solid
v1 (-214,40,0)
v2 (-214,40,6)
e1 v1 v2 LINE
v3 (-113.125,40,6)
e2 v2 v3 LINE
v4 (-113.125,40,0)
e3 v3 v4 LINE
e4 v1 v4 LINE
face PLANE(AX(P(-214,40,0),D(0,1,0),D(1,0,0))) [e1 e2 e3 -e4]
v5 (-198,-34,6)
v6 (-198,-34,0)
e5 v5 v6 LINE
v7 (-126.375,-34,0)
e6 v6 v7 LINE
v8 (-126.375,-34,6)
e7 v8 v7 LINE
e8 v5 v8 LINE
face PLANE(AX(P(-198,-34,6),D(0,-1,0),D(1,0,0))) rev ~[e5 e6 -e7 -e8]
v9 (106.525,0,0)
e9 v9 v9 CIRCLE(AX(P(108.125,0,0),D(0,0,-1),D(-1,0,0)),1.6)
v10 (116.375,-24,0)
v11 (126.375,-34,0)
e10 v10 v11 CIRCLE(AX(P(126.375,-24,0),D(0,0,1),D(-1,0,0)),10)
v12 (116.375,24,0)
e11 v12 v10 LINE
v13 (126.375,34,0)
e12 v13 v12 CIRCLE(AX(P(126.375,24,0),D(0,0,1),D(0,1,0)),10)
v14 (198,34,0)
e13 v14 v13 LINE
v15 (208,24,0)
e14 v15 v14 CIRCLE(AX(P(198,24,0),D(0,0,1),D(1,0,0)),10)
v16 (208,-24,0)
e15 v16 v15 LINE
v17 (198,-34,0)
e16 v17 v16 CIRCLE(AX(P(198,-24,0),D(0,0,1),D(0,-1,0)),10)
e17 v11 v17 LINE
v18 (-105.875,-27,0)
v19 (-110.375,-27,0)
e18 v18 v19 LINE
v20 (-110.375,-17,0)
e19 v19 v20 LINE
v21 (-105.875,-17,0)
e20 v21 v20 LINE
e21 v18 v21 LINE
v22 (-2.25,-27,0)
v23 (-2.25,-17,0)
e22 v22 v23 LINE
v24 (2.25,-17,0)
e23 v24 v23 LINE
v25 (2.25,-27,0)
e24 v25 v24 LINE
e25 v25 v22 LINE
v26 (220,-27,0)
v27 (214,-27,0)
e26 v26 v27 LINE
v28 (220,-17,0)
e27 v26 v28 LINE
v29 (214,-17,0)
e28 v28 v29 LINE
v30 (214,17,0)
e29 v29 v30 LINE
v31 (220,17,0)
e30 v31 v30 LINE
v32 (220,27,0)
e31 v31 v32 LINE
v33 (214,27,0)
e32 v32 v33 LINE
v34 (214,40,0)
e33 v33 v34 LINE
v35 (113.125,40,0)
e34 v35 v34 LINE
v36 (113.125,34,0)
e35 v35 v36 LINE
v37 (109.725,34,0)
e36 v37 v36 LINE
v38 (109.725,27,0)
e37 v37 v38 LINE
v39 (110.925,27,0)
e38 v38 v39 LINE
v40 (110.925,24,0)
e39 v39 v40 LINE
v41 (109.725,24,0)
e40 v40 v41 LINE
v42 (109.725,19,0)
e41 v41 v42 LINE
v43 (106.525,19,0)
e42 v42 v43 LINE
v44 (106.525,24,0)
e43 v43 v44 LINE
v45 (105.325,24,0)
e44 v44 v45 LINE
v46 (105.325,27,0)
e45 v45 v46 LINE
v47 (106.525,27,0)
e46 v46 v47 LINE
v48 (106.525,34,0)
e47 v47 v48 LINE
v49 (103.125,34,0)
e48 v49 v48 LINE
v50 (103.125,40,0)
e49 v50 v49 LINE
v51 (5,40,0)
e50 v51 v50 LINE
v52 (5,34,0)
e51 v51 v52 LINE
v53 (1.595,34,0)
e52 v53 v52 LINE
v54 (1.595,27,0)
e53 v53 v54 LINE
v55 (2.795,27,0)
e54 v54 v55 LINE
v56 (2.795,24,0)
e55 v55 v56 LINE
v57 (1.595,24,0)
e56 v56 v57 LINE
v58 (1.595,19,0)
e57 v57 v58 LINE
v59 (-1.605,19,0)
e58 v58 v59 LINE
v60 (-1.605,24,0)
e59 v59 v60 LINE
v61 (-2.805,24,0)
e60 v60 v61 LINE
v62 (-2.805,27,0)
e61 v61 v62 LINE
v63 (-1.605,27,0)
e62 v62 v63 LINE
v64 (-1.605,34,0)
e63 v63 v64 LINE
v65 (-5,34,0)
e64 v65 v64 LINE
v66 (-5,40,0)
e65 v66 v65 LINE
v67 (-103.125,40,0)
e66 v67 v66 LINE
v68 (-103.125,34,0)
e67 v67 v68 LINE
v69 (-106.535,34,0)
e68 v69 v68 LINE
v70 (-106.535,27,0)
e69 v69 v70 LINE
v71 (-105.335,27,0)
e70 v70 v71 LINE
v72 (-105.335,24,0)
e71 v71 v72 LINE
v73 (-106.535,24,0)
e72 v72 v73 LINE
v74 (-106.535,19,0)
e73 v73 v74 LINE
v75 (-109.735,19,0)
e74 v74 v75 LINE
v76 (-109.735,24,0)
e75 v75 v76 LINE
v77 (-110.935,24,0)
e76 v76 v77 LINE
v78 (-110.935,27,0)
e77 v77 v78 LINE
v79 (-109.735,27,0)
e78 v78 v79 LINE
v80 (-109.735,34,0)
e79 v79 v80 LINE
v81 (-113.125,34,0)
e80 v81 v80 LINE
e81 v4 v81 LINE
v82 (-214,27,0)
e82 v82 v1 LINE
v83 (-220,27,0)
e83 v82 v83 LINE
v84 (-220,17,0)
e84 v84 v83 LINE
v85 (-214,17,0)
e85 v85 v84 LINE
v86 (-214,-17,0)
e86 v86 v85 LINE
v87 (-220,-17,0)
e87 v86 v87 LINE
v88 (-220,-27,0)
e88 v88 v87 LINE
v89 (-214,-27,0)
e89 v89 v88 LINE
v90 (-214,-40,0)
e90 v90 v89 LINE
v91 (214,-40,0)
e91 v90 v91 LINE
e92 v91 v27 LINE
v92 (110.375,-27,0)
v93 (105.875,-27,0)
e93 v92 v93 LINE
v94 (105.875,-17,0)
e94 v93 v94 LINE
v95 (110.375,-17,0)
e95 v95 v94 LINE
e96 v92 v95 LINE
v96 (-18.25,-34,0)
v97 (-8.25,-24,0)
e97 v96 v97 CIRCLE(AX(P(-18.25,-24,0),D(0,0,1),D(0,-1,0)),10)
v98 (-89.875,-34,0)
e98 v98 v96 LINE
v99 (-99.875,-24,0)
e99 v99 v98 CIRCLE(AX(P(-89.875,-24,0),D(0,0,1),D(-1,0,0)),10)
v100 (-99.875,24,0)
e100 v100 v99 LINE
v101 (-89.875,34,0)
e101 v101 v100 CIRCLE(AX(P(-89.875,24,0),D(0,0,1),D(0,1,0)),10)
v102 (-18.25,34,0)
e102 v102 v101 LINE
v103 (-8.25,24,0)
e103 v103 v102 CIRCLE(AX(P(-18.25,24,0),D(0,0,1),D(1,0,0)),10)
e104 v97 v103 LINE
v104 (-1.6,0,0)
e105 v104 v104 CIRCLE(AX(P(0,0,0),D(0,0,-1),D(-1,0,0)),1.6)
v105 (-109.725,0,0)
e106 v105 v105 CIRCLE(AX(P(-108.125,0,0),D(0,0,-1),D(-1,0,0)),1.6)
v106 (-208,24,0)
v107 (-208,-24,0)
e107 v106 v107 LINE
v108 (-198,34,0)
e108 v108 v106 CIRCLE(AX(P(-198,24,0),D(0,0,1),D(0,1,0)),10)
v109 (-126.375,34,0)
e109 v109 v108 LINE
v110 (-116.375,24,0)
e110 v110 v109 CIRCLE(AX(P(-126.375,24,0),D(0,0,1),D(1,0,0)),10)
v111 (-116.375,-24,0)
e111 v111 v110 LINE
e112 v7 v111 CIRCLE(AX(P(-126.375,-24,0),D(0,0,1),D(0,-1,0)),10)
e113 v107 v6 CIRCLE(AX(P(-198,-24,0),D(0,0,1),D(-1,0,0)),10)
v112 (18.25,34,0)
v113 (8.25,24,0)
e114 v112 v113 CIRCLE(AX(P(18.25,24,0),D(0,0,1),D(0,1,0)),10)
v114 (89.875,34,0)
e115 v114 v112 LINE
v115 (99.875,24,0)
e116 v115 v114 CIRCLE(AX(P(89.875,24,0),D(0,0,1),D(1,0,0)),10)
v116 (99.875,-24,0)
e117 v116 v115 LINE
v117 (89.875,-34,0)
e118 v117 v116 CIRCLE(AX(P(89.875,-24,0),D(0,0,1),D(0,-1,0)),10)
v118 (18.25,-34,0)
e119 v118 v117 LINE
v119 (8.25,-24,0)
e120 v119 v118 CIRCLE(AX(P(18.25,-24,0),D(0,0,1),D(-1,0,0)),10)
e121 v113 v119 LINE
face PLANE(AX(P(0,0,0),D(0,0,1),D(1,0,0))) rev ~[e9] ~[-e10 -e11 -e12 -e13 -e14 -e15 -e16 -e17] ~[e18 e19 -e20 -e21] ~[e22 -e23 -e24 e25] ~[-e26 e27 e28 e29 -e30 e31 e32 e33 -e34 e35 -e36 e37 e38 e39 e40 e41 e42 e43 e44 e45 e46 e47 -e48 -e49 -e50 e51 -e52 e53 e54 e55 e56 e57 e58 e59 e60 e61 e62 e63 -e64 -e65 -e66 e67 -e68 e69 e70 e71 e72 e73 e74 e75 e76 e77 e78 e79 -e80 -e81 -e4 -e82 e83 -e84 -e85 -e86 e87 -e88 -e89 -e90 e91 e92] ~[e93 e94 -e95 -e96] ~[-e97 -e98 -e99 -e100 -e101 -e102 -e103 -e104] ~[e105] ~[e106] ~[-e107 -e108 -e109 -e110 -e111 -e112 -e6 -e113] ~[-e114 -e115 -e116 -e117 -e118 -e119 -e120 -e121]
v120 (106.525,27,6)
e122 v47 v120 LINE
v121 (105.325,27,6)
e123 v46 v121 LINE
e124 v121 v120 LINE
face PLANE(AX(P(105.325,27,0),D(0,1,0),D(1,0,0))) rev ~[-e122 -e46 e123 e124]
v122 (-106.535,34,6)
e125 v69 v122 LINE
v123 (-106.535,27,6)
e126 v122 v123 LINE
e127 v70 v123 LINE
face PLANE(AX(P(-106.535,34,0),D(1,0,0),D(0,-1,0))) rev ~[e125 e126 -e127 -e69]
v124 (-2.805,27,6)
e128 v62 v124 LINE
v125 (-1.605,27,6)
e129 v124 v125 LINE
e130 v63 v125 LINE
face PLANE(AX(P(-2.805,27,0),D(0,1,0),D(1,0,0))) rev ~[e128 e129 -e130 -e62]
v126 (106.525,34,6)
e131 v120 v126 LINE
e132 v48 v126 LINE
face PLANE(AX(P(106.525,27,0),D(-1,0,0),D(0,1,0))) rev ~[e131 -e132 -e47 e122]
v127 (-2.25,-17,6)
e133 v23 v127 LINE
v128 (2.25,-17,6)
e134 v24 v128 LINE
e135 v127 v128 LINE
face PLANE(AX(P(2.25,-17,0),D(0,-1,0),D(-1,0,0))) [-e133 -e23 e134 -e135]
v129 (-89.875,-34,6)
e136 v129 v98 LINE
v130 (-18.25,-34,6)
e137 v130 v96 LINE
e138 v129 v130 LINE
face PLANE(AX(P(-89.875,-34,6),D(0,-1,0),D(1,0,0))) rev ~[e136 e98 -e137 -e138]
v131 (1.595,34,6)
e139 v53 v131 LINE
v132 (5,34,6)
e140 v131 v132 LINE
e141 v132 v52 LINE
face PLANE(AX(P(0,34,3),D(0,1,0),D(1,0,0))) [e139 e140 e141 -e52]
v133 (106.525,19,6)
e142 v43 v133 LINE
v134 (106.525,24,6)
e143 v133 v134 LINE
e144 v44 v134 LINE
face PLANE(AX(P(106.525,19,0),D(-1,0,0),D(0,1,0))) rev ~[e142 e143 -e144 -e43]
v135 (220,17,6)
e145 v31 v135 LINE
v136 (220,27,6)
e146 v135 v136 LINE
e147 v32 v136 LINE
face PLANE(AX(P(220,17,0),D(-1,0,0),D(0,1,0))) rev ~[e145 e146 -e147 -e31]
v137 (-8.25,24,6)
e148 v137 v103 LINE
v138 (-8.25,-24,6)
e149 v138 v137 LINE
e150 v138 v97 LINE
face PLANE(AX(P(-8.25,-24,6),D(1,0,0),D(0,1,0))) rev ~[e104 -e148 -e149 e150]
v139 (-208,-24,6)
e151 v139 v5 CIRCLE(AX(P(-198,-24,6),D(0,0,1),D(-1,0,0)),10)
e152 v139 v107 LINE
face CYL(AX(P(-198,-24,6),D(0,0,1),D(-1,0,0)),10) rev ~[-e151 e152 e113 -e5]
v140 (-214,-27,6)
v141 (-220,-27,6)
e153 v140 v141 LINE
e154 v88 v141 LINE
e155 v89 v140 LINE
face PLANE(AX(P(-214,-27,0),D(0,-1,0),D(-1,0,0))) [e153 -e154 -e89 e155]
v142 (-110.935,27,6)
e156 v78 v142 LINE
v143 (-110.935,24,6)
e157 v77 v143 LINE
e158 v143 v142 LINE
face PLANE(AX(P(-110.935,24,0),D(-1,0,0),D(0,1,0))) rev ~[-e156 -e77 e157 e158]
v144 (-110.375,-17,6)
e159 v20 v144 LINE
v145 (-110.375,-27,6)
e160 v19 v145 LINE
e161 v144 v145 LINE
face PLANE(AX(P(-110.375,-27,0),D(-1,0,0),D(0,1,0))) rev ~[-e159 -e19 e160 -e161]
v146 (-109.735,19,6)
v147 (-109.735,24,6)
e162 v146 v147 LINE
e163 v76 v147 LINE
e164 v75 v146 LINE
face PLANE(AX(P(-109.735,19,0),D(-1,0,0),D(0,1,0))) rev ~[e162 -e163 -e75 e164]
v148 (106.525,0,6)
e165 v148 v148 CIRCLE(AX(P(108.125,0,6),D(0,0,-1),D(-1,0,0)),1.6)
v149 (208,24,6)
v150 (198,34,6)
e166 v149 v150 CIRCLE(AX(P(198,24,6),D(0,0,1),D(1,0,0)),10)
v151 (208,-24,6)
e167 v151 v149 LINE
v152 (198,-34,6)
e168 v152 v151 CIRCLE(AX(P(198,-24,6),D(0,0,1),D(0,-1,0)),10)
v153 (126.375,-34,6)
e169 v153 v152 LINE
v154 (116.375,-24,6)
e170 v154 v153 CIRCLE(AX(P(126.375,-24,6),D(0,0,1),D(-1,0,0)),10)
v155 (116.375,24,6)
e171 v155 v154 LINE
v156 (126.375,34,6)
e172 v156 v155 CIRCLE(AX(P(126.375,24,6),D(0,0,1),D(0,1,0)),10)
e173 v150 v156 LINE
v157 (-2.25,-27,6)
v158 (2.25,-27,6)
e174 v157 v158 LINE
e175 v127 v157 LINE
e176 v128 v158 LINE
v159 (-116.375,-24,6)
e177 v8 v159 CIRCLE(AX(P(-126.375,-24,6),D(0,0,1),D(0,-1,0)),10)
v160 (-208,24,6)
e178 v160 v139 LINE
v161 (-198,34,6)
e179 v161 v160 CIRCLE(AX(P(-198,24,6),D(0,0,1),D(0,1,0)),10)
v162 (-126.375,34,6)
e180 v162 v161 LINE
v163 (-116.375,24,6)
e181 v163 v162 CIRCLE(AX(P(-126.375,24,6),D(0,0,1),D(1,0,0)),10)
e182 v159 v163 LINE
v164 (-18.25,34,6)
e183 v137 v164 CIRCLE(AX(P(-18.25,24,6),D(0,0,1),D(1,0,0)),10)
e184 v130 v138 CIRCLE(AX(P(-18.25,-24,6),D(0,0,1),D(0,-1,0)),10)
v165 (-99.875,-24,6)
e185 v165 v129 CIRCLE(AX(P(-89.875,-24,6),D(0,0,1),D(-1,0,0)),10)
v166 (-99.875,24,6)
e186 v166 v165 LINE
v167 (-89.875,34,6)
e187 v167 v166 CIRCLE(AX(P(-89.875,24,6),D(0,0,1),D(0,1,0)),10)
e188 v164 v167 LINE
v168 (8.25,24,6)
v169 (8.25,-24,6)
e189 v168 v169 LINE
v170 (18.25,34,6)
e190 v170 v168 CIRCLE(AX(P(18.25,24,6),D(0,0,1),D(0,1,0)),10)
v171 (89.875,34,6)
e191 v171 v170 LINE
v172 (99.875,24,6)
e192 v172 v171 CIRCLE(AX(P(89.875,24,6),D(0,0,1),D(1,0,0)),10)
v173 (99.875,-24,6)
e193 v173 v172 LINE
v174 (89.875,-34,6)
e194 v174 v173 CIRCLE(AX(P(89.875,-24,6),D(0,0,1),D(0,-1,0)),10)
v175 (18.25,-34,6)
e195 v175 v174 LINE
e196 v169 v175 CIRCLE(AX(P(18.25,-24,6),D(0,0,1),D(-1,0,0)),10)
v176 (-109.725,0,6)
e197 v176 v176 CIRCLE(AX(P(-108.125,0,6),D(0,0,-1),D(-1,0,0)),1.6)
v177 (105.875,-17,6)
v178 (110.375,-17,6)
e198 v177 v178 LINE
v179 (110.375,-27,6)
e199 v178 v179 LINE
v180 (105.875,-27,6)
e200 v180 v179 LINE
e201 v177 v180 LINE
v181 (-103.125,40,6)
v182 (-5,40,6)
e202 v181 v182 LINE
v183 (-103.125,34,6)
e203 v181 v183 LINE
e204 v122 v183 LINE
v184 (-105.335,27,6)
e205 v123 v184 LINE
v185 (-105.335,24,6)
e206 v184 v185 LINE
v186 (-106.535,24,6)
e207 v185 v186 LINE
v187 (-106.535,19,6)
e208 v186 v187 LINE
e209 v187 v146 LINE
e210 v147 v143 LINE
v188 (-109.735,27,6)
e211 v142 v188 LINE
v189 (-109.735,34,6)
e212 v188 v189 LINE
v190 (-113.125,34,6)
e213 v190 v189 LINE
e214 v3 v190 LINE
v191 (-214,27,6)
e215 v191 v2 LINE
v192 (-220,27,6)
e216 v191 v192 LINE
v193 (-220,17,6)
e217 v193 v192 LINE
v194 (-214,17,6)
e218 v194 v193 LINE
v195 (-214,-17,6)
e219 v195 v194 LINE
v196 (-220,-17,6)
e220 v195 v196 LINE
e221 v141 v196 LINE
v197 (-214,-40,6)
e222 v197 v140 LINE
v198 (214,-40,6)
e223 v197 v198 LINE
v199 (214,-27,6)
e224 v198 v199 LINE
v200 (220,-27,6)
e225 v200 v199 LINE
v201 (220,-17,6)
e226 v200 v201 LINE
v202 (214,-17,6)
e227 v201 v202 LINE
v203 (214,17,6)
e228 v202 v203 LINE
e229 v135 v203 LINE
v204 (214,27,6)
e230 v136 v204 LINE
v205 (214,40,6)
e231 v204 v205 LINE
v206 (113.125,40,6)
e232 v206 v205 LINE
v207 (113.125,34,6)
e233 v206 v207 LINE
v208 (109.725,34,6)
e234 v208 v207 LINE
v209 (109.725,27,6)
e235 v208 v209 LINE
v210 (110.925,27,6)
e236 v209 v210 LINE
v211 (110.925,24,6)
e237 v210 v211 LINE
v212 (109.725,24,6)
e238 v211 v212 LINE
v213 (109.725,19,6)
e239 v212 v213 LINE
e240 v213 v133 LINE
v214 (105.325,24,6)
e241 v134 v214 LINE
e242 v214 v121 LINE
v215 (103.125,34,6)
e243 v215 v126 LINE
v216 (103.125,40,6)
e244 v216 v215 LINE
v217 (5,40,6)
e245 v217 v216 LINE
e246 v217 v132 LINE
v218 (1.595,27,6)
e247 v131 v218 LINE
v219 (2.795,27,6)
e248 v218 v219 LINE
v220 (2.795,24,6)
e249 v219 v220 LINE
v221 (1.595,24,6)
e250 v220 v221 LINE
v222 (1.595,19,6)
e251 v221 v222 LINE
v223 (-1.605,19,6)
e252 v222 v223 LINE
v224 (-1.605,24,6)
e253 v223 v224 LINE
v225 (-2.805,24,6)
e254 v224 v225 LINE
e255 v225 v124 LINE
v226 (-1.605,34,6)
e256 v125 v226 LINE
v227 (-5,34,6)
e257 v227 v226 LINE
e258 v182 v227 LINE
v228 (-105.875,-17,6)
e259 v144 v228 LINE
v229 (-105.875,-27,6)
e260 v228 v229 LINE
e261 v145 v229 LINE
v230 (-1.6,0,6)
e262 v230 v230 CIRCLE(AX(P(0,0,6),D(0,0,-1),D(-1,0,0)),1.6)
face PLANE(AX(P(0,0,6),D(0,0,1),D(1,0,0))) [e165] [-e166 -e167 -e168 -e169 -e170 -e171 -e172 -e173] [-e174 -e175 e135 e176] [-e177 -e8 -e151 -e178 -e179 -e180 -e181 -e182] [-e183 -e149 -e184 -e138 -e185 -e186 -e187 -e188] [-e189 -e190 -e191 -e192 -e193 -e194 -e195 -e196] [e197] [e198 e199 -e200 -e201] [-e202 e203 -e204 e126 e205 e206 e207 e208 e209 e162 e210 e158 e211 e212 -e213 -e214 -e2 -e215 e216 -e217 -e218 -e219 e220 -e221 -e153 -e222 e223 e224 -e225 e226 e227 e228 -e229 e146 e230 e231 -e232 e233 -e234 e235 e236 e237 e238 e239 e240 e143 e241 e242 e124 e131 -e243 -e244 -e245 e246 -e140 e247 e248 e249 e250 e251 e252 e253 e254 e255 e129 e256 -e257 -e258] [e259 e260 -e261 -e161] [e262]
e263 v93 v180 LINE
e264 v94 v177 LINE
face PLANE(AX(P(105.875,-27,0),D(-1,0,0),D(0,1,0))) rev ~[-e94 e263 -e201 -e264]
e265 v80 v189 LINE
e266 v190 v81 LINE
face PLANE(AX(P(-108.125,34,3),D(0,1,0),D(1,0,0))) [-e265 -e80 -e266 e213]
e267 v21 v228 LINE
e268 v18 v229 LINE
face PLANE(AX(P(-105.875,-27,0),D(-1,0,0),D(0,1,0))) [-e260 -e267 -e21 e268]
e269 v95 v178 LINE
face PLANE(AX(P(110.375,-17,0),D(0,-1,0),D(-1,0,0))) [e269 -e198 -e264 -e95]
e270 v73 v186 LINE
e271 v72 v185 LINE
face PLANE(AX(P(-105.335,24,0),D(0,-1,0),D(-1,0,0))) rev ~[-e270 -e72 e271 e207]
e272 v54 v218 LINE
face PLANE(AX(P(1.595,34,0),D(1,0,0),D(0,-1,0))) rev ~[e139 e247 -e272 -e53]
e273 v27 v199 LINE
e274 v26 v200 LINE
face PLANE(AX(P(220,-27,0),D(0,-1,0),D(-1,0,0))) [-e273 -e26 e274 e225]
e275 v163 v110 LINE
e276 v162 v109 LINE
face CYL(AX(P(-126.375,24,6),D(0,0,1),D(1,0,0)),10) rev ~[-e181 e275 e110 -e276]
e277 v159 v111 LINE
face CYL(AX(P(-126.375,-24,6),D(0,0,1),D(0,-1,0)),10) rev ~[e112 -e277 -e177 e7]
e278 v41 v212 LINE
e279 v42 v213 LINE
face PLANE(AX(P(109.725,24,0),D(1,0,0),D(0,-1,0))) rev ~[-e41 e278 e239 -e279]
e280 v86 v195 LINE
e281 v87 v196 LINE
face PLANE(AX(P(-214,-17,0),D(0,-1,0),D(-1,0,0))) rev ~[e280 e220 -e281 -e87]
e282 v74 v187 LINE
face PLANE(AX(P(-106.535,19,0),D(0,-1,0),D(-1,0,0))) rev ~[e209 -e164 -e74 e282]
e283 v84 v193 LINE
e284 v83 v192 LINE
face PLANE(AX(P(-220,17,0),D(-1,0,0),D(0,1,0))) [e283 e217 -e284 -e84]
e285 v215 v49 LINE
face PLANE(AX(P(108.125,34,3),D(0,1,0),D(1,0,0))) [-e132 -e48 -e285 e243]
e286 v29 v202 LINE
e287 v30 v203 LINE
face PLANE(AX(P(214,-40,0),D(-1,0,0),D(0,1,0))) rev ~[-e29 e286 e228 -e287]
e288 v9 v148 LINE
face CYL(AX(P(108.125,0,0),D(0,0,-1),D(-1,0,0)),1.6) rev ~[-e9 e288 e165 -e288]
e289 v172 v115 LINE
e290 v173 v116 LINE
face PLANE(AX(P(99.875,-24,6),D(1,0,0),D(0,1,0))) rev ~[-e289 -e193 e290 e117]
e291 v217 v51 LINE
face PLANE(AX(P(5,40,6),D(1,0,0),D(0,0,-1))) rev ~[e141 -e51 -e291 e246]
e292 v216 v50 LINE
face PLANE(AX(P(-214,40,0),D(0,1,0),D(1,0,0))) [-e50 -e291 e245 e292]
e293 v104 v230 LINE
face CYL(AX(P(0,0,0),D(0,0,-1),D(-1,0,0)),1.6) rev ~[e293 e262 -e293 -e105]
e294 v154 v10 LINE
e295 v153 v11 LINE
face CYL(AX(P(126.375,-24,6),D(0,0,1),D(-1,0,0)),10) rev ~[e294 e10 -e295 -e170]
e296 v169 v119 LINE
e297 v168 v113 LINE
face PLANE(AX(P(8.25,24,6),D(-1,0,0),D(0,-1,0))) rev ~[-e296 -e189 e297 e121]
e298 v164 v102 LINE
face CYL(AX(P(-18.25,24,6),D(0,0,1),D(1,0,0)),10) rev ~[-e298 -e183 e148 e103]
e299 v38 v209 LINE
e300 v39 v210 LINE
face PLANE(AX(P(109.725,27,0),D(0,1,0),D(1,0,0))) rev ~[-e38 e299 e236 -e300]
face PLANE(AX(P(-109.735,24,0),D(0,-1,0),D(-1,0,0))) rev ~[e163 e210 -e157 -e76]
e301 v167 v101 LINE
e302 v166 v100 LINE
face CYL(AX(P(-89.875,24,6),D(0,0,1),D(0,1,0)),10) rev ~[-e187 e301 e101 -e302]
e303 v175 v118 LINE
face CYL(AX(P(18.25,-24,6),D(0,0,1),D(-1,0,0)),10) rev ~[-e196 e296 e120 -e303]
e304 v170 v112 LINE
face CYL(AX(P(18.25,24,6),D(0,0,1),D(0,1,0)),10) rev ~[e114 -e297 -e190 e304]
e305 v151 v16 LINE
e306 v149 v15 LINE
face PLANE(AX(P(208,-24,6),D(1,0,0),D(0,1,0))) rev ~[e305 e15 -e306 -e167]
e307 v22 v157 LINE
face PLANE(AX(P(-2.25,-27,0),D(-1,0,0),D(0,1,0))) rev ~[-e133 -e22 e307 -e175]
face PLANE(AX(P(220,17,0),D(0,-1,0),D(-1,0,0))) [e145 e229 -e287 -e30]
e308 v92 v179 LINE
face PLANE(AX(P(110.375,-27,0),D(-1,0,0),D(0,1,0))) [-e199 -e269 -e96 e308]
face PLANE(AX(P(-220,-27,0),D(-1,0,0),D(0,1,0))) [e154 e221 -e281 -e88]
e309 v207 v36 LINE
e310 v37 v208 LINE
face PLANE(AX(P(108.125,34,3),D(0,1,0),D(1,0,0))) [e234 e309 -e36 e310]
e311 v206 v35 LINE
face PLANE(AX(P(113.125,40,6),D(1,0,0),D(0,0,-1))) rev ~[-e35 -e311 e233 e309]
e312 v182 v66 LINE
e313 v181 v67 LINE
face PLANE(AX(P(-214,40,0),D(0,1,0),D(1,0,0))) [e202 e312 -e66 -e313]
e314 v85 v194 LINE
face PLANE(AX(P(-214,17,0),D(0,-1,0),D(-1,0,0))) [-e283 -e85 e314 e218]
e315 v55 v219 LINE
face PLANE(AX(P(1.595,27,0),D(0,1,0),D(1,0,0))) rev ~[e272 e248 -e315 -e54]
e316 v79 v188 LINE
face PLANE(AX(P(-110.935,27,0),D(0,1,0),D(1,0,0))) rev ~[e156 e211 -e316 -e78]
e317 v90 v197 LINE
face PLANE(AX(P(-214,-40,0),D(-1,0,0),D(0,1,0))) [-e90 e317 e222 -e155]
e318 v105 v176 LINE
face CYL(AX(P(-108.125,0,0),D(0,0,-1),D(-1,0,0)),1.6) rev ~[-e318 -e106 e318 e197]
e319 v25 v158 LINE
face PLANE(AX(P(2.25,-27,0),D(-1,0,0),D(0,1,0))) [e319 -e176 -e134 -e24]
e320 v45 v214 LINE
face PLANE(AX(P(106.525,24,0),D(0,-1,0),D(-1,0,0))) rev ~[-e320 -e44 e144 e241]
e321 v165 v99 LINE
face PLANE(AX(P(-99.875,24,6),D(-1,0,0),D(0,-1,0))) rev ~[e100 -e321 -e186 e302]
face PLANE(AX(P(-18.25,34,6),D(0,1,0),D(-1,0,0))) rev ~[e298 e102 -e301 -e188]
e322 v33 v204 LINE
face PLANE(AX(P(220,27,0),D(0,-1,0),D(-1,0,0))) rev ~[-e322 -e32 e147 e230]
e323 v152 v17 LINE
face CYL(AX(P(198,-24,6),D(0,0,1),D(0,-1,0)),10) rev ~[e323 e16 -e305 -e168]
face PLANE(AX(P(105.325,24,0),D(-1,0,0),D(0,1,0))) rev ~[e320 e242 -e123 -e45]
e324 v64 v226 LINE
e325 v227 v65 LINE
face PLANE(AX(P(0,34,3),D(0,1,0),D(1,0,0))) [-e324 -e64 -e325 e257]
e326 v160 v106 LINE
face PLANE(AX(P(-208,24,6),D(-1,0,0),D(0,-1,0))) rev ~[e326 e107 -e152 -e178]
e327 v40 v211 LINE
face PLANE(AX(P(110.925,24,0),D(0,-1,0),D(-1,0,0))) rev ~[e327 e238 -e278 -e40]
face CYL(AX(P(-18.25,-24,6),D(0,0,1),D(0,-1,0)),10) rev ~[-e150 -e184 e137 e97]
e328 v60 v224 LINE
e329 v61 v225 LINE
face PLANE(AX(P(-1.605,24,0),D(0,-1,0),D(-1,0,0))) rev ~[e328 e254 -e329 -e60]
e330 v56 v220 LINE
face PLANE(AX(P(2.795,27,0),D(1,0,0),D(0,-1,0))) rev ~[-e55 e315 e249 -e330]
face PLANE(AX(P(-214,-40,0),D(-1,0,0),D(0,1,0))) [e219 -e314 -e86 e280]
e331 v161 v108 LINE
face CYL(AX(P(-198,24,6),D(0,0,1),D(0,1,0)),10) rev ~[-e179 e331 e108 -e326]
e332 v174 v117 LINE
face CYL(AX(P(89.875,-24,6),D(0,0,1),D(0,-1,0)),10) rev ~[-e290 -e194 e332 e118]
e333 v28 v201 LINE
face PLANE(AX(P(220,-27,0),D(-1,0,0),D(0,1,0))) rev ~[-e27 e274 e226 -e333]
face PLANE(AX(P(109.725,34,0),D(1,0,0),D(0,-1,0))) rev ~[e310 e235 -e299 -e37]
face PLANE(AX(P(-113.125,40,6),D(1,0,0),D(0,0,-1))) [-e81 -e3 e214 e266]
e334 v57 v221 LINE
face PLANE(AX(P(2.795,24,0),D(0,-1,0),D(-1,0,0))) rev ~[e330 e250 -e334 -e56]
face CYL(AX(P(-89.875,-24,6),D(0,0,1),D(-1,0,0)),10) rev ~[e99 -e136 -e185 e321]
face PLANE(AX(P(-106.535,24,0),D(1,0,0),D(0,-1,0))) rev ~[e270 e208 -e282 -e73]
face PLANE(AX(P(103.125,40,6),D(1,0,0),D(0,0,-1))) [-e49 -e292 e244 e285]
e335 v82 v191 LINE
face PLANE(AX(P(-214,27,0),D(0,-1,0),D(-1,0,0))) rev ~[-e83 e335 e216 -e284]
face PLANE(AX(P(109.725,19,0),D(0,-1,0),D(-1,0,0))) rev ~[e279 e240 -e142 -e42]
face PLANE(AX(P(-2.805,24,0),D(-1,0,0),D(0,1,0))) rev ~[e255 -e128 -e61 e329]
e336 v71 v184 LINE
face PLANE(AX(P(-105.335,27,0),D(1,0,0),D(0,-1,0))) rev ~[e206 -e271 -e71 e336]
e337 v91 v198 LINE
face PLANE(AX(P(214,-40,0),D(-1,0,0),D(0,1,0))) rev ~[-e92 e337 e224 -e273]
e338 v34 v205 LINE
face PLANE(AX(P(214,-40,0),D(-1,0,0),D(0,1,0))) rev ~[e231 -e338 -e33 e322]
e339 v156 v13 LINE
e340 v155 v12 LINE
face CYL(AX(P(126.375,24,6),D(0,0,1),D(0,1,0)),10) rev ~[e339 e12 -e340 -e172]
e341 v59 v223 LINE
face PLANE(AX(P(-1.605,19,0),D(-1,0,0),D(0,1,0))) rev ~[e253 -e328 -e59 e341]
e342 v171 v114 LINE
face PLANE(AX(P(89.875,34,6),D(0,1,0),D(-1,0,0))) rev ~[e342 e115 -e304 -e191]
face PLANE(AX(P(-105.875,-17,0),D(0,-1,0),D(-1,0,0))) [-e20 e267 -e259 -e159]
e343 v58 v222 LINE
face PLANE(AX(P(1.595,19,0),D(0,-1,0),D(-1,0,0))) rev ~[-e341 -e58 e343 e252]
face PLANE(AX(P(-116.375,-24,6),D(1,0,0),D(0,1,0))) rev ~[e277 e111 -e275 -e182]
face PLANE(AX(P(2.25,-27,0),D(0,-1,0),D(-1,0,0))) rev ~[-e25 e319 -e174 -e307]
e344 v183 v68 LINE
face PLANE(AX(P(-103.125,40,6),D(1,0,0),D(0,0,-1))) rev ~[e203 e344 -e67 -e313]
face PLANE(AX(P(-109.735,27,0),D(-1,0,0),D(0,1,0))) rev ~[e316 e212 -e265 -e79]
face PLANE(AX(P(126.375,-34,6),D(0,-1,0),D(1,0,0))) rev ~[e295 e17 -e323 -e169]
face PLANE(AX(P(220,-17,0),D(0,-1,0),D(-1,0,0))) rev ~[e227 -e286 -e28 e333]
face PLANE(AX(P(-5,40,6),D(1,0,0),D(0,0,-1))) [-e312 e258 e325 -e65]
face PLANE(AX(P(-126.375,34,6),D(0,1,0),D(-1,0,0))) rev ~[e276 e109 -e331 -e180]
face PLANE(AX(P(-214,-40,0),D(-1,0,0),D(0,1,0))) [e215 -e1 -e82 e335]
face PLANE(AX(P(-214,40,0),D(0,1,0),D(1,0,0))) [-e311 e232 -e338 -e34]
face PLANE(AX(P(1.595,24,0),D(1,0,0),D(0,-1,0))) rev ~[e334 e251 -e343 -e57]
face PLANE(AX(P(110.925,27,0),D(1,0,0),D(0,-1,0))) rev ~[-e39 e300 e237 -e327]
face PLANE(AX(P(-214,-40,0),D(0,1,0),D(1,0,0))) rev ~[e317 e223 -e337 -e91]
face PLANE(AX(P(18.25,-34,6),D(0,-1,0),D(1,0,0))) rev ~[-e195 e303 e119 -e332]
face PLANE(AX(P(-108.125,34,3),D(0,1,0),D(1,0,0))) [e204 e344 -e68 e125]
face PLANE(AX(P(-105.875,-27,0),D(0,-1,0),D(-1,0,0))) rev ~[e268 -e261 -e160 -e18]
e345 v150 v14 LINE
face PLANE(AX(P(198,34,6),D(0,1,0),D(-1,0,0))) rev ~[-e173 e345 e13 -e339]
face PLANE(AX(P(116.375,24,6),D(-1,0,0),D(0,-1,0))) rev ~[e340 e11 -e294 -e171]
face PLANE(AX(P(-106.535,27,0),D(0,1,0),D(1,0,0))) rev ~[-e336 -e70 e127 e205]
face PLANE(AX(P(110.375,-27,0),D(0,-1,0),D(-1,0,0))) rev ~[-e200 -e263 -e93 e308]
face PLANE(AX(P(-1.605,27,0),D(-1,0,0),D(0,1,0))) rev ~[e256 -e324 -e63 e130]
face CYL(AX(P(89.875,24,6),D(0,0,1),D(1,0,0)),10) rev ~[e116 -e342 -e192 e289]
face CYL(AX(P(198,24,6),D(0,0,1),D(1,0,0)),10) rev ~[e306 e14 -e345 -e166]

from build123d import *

# Parameters (mm, degrees)
SKETCH1_W           = 428
SKETCH1_H           = 80
BOSS_EXTRUDE1_DEPTH = 6
CUT_EXTRUDE1_DEPTH  = 6
LPATTERN1_COUNT     = 4
LPATTERN1_PITCH     = 108.125
SKETCH3_R           = 1.6
SKETCH3_W           = 4.5
SKETCH3_H           = 10
CUT_EXTRUDE2_DEPTH  = 7
SKETCH4_W           = 6
SKETCH4_H           = 10
BOSS_EXTRUDE2_DEPTH = 6
SKETCH5_W           = 10
SKETCH5_H           = 6
CUT_EXTRUDE3_DEPTH  = 6
CUT_EXTRUDE4_REACH  = 8


with BuildPart() as part:
    # Sketch1 → Boss-Extrude1 (new body)
    with BuildSketch(Plane.XY):
        Rectangle(SKETCH1_W, SKETCH1_H)
    extrude(amount=BOSS_EXTRUDE1_DEPTH)

    # Sketch2 → Cut-Extrude1 (cut)
    with BuildSketch(Plane.XY.offset(6)):
        with BuildLine():
            Line((-116.375, -24), (-116.375, 24))
            ThreePointArc((-116.375, 24), (-119.303932188, 31.071067812), (-126.375, 34))
            Line((-126.375, 34), (-198, 34))
            ThreePointArc((-198, 34), (-205.071067812, 31.071067812), (-208, 24))
            Line((-208, 24), (-208, -24))
            ThreePointArc((-208, -24), (-205.071067812, -31.071067812), (-198, -34))
            Line((-198, -34), (-126.375, -34))
            ThreePointArc((-126.375, -34), (-119.303932188, -31.071067812), (-116.375, -24))
        make_face()
    cut_extrude1 = extrude(amount=-CUT_EXTRUDE1_DEPTH, mode=Mode.SUBTRACT)

    # LPattern1: Cut-Extrude1 ×4
    with Locations(*[(i * LPATTERN1_PITCH, 0, 0) for i in range(1, LPATTERN1_COUNT)]):
        add(cut_extrude1, mode=Mode.SUBTRACT)

    # Sketch3 → Cut-Extrude2 (cut, through all)
    with BuildSketch(Plane(origin=(0, 0, 0), x_dir=(-1, 0, 0), z_dir=(0, 0, -1))):
        with Locations((108.125, 0)):
            Circle(SKETCH3_R)
        Circle(SKETCH3_R)
        with Locations((-108.125, 0)):
            Circle(SKETCH3_R)
        with Locations((-108.125, -22)):
            Rectangle(SKETCH3_W, SKETCH3_H)
        with Locations((0, -22)):
            Rectangle(SKETCH3_W, SKETCH3_H)
        with Locations((108.125, -22)):
            Rectangle(SKETCH3_W, SKETCH3_H)
    extrude(amount=-CUT_EXTRUDE2_DEPTH, mode=Mode.SUBTRACT)

    # Sketch4 → Boss-Extrude2 (add)
    with BuildSketch(Plane(origin=(0, 0, 0), x_dir=(-1, 0, 0), z_dir=(0, 0, -1))):
        with Locations((-217, 22)):
            Rectangle(SKETCH4_W, SKETCH4_H)
        with Locations((-217, -22)):
            Rectangle(SKETCH4_W, SKETCH4_H)
        with Locations((217, -22)):
            Rectangle(SKETCH4_W, SKETCH4_H)
        with Locations((217, 22)):
            Rectangle(SKETCH4_W, SKETCH4_H)
    extrude(amount=-BOSS_EXTRUDE2_DEPTH)

    # Sketch5 → Cut-Extrude3 (cut)
    with BuildSketch(Plane(origin=(0, 40, 0), x_dir=(1, 0, 0), z_dir=(0, 1, 0))):
        with Locations((-108.125, -3)):
            Rectangle(SKETCH5_W, SKETCH5_H)
        with Locations((0, -3)):
            Rectangle(SKETCH5_W, SKETCH5_H)
        with Locations((108.125, -3)):
            Rectangle(SKETCH5_W, SKETCH5_H)
    extrude(amount=-CUT_EXTRUDE3_DEPTH, mode=Mode.SUBTRACT)

    # Sketch6 → Cut-Extrude4 (cut, up to next)
    with BuildSketch(Plane(origin=(0, 0, 0), x_dir=(-1, 0, 0), z_dir=(0, 0, -1)), mode=Mode.PRIVATE) as cut_extrude4_sk1:
        Polygon((-109.725, 34), (-109.725, 27), (-110.925, 27), (-110.925, 24), (-109.725, 24), (-109.725, 19), (-106.525, 19), (-106.525, 24), (-105.325, 24), (-105.325, 27), (-106.525, 27), (-106.525, 34), align=None)
    cut_extrude4_tool1 = extrude(cut_extrude4_sk1.sketch, amount=-CUT_EXTRUDE4_REACH, mode=Mode.PRIVATE) & part.part
    add(cut_extrude4_tool1.solids().sort_by_distance((108.125, 26.369565, 0))[0], mode=Mode.SUBTRACT)
    # Sketch6 → Cut-Extrude4 (cut, up to next)
    with BuildSketch(Plane(origin=(0, 0, 0), x_dir=(-1, 0, 0), z_dir=(0, 0, -1)), mode=Mode.PRIVATE) as cut_extrude4_sk2:
        Polygon((-1.595, 27), (-2.795, 27), (-2.795, 24), (-1.595, 24), (-1.595, 19), (1.605, 19), (1.605, 24), (2.805, 24), (2.805, 27), (1.605, 27), (1.605, 34), (-1.595, 34), align=None)
    cut_extrude4_tool2 = extrude(cut_extrude4_sk2.sketch, amount=-CUT_EXTRUDE4_REACH, mode=Mode.PRIVATE) & part.part
    add(cut_extrude4_tool2.solids().sort_by_distance((-0.005, 26.369565, 0))[0], mode=Mode.SUBTRACT)
    # Sketch6 → Cut-Extrude4 (cut, up to next)
    with BuildSketch(Plane(origin=(0, 0, 0), x_dir=(-1, 0, 0), z_dir=(0, 0, -1)), mode=Mode.PRIVATE) as cut_extrude4_sk3:
        Polygon((106.535, 34), (106.535, 27), (105.335, 27), (105.335, 24), (106.535, 24), (106.535, 19), (109.735, 19), (109.735, 24), (110.935, 24), (110.935, 27), (109.735, 27), (109.735, 34), align=None)
    cut_extrude4_tool3 = extrude(cut_extrude4_sk3.sketch, amount=-CUT_EXTRUDE4_REACH, mode=Mode.PRIVATE) & part.part
    add(cut_extrude4_tool3.solids().sort_by_distance((-108.135, 26.369565, 0))[0], mode=Mode.SUBTRACT)


solid = part.part
